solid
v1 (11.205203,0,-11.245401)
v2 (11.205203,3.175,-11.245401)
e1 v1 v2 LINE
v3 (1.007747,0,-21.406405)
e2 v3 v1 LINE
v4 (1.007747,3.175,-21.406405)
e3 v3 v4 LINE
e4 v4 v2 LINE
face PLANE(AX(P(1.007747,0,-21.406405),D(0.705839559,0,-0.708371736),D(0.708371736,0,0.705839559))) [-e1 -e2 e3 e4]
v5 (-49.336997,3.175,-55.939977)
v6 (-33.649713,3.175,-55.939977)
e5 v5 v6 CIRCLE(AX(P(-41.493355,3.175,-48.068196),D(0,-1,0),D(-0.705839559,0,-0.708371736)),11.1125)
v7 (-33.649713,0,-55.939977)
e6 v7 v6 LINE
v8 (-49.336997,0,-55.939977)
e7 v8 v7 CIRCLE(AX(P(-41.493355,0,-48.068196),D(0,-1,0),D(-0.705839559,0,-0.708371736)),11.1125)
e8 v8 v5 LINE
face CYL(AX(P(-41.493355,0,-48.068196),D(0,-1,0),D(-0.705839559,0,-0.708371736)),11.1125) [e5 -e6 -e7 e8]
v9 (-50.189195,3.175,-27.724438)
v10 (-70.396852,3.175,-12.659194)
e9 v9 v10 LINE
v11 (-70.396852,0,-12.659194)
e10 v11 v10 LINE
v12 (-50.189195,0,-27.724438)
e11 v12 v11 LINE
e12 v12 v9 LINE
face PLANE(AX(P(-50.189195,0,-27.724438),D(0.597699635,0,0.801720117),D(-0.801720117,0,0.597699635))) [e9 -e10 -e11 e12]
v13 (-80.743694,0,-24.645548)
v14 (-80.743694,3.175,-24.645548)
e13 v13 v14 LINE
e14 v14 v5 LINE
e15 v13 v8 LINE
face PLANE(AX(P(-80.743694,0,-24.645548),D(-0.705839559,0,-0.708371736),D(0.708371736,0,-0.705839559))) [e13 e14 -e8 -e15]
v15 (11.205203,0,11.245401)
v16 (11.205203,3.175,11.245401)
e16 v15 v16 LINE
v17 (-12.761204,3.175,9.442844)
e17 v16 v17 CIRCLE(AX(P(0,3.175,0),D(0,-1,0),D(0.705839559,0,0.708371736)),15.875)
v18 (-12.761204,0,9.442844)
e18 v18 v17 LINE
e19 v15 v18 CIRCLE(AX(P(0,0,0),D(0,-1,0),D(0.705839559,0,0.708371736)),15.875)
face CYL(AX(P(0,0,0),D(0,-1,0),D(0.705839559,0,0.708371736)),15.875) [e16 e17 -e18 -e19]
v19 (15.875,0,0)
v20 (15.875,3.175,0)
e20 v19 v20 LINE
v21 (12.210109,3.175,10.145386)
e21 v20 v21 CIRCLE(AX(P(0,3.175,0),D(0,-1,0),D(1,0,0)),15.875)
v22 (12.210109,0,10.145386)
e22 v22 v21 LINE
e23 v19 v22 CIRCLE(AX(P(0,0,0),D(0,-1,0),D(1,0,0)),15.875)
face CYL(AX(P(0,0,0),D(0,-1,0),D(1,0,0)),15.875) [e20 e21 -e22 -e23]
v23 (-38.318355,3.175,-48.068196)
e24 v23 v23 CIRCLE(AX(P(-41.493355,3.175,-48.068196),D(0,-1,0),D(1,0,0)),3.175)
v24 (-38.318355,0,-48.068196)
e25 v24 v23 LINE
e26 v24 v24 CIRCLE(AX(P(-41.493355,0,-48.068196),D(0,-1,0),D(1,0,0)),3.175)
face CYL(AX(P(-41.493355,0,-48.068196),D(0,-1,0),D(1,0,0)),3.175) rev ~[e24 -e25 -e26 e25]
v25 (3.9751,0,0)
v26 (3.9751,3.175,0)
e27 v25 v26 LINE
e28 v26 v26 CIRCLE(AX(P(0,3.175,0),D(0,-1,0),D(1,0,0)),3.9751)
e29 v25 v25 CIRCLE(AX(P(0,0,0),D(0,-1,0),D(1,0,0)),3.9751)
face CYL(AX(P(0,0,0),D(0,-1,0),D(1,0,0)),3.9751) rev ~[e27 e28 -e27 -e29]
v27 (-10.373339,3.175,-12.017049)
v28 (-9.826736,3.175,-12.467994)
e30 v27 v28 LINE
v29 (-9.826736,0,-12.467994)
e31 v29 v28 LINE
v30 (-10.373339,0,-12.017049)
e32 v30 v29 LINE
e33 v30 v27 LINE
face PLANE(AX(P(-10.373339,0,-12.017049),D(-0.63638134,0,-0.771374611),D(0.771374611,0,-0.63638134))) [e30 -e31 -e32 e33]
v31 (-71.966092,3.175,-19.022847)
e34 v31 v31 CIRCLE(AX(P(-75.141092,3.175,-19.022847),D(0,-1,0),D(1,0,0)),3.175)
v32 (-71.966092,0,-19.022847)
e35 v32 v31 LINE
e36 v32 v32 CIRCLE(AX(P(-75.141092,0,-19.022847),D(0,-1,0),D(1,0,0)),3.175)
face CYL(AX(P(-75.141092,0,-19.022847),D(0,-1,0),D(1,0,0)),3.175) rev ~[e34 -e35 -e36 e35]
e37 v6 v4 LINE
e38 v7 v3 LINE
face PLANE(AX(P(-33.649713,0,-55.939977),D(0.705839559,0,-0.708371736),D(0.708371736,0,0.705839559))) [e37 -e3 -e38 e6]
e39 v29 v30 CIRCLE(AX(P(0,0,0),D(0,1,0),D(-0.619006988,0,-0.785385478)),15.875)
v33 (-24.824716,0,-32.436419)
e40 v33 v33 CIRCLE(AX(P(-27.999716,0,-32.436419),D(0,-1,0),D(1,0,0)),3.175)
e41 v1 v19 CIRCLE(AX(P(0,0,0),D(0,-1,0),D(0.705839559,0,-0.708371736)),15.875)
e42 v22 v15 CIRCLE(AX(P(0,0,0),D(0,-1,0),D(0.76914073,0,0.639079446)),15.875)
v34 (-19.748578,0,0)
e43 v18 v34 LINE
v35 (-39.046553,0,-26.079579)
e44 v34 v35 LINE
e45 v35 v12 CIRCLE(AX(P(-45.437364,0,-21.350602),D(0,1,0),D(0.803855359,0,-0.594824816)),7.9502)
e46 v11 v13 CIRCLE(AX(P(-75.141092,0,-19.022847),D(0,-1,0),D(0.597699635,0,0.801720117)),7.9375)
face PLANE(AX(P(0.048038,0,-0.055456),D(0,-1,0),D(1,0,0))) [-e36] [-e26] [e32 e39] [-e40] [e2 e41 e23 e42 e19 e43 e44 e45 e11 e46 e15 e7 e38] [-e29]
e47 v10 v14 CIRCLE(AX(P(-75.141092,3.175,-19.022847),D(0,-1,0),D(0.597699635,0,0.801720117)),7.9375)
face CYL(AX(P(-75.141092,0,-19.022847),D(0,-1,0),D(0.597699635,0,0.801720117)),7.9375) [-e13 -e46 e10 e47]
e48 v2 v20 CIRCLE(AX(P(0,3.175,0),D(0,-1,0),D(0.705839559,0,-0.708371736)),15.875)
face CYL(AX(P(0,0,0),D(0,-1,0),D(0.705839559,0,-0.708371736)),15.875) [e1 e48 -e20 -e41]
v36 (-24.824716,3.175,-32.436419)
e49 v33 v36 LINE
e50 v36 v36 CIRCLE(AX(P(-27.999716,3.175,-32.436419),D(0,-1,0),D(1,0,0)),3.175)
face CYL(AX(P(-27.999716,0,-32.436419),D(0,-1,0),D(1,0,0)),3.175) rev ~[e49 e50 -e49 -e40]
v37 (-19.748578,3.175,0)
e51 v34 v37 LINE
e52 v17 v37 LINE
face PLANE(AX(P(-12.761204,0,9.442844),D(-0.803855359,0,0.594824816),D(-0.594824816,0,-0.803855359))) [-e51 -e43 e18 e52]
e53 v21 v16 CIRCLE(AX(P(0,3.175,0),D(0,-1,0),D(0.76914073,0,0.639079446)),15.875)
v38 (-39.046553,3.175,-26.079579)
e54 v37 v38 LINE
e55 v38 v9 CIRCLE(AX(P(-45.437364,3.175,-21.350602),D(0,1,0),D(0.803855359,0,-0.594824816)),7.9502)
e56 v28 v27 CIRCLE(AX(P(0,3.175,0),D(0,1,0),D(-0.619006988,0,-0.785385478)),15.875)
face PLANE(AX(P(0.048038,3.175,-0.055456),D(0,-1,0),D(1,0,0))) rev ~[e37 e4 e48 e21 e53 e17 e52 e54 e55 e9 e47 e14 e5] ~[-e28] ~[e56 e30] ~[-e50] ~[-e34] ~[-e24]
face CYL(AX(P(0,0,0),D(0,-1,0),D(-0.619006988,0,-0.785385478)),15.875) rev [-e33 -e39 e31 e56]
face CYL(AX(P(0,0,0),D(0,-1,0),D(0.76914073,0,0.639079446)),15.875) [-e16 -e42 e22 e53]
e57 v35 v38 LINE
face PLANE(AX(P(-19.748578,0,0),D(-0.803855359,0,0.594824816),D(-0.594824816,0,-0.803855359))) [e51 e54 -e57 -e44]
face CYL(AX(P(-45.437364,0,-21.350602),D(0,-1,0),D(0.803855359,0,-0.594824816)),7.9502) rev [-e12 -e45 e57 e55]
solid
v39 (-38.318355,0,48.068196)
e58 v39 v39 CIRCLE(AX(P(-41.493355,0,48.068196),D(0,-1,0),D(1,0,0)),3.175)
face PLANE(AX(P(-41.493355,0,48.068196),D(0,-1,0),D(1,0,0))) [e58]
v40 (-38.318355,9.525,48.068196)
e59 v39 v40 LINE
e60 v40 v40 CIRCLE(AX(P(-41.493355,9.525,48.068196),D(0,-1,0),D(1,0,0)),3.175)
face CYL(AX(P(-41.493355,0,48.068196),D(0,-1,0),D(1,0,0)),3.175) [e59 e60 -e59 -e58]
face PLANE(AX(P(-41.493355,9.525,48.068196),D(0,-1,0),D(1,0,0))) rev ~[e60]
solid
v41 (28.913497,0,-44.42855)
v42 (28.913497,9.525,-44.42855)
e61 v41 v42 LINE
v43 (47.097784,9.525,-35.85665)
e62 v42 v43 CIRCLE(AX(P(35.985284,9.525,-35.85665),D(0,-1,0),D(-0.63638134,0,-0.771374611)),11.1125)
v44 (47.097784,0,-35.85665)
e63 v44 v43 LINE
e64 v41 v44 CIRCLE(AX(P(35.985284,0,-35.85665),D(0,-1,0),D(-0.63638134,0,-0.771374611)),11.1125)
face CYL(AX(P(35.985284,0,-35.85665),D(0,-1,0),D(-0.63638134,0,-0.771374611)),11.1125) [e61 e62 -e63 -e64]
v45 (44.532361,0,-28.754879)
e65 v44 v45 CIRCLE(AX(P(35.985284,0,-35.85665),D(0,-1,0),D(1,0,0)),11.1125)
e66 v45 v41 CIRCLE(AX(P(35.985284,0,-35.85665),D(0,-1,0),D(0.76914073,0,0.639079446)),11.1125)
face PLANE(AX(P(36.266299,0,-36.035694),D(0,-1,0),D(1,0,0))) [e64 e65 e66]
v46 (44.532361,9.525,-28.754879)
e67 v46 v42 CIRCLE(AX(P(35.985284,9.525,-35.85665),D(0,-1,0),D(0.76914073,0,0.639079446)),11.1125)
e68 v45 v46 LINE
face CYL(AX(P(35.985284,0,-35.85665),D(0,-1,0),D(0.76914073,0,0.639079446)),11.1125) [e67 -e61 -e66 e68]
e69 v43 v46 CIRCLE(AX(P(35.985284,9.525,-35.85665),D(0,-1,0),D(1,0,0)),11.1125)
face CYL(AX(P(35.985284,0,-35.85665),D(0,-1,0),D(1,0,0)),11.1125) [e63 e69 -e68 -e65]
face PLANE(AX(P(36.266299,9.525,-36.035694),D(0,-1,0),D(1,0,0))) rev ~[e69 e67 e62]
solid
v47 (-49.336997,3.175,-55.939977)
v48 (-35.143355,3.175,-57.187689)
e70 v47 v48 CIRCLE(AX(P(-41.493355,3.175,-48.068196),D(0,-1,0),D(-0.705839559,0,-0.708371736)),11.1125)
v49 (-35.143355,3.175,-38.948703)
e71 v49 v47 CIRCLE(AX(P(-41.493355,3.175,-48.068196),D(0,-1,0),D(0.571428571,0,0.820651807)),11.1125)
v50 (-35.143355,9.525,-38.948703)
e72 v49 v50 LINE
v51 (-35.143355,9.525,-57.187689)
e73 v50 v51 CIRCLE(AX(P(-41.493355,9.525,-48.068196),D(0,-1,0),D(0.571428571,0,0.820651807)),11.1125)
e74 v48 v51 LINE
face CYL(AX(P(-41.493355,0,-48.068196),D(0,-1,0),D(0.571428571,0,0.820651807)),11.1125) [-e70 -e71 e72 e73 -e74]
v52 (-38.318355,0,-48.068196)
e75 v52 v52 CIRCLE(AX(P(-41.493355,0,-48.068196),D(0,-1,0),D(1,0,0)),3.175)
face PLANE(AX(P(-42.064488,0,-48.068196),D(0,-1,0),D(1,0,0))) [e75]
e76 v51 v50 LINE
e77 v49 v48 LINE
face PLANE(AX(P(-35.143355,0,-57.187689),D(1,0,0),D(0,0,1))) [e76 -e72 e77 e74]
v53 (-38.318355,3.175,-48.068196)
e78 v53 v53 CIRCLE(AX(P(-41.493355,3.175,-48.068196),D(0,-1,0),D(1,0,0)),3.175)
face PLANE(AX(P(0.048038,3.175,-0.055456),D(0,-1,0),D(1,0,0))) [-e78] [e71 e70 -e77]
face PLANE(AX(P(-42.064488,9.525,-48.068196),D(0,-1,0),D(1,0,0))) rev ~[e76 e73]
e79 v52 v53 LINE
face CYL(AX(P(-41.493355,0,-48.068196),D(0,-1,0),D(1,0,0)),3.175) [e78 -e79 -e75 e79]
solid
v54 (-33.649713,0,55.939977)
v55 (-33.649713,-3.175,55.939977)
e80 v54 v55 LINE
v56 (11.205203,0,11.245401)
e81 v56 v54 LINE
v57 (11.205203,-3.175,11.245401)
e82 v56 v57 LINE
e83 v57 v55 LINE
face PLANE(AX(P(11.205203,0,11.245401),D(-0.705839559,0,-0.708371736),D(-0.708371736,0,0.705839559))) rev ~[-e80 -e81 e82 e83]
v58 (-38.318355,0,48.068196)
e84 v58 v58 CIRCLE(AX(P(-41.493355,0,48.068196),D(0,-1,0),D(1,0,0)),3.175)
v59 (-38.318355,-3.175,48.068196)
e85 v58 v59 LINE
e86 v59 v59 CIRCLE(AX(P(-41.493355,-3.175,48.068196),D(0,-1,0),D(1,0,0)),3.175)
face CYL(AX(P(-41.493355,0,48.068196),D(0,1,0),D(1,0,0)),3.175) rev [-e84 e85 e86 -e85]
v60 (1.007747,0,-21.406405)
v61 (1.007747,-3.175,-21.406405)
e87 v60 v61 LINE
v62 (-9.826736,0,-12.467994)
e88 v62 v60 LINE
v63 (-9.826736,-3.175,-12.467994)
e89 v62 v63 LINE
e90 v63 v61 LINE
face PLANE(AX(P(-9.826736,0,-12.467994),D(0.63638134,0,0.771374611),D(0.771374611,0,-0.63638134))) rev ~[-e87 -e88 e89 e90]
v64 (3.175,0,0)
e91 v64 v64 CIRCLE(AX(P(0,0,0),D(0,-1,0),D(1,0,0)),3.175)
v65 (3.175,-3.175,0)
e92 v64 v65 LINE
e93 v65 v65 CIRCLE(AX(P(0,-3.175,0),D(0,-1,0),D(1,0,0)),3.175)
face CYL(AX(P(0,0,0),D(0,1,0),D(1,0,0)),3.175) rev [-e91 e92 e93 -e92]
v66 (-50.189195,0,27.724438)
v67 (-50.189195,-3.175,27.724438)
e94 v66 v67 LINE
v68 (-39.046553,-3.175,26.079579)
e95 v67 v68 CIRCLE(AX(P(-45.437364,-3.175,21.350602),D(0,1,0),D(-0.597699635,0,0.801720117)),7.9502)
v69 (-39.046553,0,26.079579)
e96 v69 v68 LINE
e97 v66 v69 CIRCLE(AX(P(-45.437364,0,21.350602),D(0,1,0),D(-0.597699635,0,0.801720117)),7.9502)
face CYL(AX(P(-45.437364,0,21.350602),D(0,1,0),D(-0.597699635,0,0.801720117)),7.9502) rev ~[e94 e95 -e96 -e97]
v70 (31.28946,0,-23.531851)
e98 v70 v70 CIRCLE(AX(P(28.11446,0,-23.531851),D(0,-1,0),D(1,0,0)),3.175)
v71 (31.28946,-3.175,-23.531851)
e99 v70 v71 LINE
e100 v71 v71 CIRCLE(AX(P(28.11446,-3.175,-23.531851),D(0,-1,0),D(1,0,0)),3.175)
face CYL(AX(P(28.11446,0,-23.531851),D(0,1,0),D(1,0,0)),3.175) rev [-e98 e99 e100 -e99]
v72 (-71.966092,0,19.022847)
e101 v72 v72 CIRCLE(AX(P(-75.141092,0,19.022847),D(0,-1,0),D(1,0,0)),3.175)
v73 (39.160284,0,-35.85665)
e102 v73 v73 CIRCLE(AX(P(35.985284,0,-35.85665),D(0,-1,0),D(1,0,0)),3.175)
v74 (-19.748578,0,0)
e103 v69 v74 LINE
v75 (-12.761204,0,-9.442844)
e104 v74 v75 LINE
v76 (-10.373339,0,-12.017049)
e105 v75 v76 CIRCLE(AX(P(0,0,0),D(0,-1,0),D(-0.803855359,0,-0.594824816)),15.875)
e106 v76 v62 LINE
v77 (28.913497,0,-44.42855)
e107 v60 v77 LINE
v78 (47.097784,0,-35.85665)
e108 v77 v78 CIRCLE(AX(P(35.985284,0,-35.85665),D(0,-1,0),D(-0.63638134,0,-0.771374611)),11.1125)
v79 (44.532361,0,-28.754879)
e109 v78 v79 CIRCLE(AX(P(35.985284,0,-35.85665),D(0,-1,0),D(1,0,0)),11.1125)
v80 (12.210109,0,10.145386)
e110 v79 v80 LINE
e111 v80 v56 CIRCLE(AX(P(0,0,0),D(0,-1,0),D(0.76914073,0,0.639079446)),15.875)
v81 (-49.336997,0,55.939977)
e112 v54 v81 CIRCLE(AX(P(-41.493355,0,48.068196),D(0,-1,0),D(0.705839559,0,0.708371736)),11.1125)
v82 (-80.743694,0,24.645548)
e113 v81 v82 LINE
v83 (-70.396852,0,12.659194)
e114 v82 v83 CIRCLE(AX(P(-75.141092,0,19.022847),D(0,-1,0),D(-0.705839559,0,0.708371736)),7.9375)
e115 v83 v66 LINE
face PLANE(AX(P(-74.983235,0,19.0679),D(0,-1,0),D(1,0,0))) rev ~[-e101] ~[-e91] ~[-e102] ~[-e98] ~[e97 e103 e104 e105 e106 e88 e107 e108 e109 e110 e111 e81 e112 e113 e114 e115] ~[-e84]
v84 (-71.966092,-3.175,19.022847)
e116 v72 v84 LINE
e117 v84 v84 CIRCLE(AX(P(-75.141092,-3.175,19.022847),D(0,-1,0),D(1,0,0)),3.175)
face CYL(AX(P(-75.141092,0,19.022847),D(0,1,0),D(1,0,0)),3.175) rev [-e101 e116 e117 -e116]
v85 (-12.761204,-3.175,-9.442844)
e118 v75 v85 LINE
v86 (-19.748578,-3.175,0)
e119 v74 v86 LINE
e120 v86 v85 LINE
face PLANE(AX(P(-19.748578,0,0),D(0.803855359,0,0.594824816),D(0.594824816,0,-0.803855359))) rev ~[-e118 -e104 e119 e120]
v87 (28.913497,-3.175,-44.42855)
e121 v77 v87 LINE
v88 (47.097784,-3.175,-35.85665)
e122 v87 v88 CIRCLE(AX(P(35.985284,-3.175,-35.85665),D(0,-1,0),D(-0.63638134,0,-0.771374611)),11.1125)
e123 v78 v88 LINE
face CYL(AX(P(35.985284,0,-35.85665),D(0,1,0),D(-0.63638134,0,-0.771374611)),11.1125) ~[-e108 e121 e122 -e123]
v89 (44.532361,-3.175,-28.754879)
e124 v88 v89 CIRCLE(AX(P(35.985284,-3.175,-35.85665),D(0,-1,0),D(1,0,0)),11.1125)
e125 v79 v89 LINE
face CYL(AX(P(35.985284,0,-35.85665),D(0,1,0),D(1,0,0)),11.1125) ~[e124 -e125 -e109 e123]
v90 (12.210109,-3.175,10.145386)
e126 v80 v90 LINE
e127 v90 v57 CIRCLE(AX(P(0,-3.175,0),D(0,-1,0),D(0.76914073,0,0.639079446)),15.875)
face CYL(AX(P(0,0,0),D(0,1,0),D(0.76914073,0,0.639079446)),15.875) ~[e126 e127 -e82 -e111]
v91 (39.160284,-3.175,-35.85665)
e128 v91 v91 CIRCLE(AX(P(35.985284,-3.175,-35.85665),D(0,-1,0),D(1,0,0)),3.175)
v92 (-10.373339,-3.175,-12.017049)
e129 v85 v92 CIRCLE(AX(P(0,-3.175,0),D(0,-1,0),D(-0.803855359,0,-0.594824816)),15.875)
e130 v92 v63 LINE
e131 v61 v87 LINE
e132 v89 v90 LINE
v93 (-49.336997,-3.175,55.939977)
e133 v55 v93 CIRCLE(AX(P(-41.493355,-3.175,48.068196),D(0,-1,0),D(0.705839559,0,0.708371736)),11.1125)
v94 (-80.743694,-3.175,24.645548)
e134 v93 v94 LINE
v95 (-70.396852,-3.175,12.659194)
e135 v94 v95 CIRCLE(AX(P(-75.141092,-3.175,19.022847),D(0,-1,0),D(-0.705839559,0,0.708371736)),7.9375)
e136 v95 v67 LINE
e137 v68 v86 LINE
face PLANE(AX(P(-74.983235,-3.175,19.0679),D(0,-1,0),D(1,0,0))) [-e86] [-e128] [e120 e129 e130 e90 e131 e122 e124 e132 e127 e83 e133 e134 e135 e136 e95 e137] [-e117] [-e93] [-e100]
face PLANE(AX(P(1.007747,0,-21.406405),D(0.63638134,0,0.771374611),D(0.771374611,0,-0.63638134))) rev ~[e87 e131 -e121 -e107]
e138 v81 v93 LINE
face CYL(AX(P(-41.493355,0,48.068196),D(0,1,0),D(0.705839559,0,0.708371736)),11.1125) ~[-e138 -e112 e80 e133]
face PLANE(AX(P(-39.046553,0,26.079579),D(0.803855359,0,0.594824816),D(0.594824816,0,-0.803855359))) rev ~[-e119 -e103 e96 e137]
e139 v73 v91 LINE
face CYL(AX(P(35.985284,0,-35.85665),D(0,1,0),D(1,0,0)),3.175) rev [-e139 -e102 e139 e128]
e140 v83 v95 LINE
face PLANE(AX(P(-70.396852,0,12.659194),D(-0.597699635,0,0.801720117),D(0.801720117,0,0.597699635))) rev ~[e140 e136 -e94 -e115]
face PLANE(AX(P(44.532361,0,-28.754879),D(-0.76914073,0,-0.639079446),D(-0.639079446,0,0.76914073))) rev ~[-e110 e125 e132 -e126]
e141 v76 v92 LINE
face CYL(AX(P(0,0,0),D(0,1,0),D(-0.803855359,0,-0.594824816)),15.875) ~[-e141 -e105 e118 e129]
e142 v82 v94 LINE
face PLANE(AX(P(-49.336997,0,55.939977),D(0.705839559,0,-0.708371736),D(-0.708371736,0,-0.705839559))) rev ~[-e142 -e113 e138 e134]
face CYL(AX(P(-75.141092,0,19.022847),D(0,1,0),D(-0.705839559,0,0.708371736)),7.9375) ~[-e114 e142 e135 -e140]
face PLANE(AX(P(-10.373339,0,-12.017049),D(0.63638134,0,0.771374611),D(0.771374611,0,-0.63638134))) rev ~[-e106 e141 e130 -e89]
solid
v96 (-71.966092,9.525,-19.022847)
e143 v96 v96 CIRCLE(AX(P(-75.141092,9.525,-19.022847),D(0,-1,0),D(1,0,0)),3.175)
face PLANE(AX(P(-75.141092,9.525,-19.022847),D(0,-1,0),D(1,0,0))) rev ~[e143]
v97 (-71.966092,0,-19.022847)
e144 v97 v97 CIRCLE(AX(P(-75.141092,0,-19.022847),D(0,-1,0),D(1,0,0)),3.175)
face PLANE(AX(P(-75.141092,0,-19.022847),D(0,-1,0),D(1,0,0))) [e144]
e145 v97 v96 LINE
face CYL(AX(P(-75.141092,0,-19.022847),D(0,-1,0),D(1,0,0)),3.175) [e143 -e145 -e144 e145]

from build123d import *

# Parameters (mm, degrees)
F0_R     = 3.175
F0_R_2   = 3.9751
F1_DEPTH = 3.175
F2_DEPTH = 3.175
F5_DEPTH = 9.525


with BuildPart() as f1:
    # F0 (on Front) → F1 (new body)
    with BuildSketch(Plane.XZ):
        with BuildLine():
            ThreePointArc((-67.2035924475, 19.022847468), (-72.0969787145, 26.3534189212), (-80.7436939481, 24.6455481248))
            ThreePointArc((-80.7436939481, 24.6455481248), (-81.1496169594, 13.8361780704), (-70.3968515915, 12.6591940402))
            ThreePointArc((-70.3968515915, 12.6591940402), (-68.0466820406, 15.4628970151), (-67.2035924475, 19.022847468))
        make_face()
        with Locations((-75.1410924475, 19.022847468)):
            Circle(F0_R, mode=Mode.SUBTRACT)
        with BuildLine():
            ThreePointArc((-12.7612038205, 9.44284396), (-1.190625, 15.8302885984), (11.2052030012, 11.2454013135))
            Line((11.2052030012, 11.2454013135), (-33.6497130803, 55.9399770143))
            ThreePointArc((-33.6497130803, 55.9399770143), (-31.2305551467, 52.3299553211), (-30.3808551811, 48.0681960948))
            ThreePointArc((-30.3808551811, 48.0681960948), (-45.7551144074, 37.8053960604), (-49.336997282, 55.9399770143))
            Line((-49.336997282, 55.9399770143), (-80.7436939481, 24.6455481248))
            ThreePointArc((-80.7436939481, 24.6455481248), (-72.0969787145, 26.3534189212), (-67.2035924475, 19.022847468))
            ThreePointArc((-67.2035924475, 19.022847468), (-68.0466820406, 15.4628970151), (-70.3968515915, 12.6591940402))
            Line((-70.3968515915, 12.6591940402), (-50.1891951564, 27.7244376696))
            ThreePointArc((-50.1891951564, 27.7244376696), (-44.2763495065, 29.2155707059), (-39.0465526417, 26.0795786514))
            Line((-39.0465526417, 26.0795786514), (-19.7485776848, 0))
            Line((-19.7485776848, 0), (-12.7612038205, 9.44284396))
        make_face()
        with BuildLine():
            ThreePointArc((-30.3808551811, 48.0681960948), (-31.2305551467, 52.3299553211), (-33.6497130803, 55.9399770143))
            ThreePointArc((-33.6497130803, 55.9399770143), (-41.4933551811, 59.1806960948), (-49.336997282, 55.9399770143))
            ThreePointArc((-49.336997282, 55.9399770143), (-45.7551144074, 37.8053960604), (-30.3808551811, 48.0681960948))
        make_face()
        with Locations((-41.4933551811, 48.0681960948)):
            Circle(F0_R, mode=Mode.SUBTRACT)
        with BuildLine():
            ThreePointArc((11.2052030012, -11.2454013135), (14.6611429064, -6.088227466), (15.875, 0))
            ThreePointArc((15.875, 0), (14.9306916571, 5.3935212655), (12.2101090846, 10.1453861998))
            ThreePointArc((12.2101090846, 10.1453861998), (11.7205681744, 10.7071894851), (11.2052030012, 11.2454013135))
            ThreePointArc((11.2052030012, 11.2454013135), (-1.190625, 15.8302885984), (-12.7612038205, 9.44284396))
            ThreePointArc((-12.7612038205, 9.44284396), (-15.875, 0), (-12.7612038205, -9.44284396))
            ThreePointArc((-12.7612038205, -9.44284396), (-11.6386596495, -10.7961672163), (-10.3733387953, -12.0170490237))
            Line((-10.3733387953, -12.0170490237), (-9.826735932, -12.4679944628))
            ThreePointArc((-9.826735932, -12.4679944628), (0.9212634625, -15.8482459166), (11.2052030012, -11.2454013135))
        make_face()
        Circle(F0_R_2, mode=Mode.SUBTRACT)
        with BuildLine():
            ThreePointArc((-12.7612038205, -9.44284396), (-15.875, 0), (-12.7612038205, 9.44284396))
            Line((-12.7612038205, 9.44284396), (-19.7485776848, 0))
            Line((-19.7485776848, 0), (-12.7612038205, -9.44284396))
        make_face()
        with BuildLine():
            Line((1.00774715, -21.4064048849), (11.2052030012, -11.2454013135))
            ThreePointArc((11.2052030012, -11.2454013135), (0.9212634625, -15.8482459166), (-9.826735932, -12.4679944628))
            Line((-9.826735932, -12.4679944628), (1.00774715, -21.4064048849))
        make_face()
        with BuildLine():
            ThreePointArc((12.2101090846, 10.1453861998), (14.9306916571, 5.3935212655), (15.875, 0))
            ThreePointArc((15.875, 0), (14.6611429064, -6.088227466), (11.2052030012, -11.2454013135))
            Line((11.2052030012, -11.2454013135), (1.00774715, -21.4064048849))
            Line((1.00774715, -21.4064048849), (28.9134965637, -44.4285499666))
            ThreePointArc((28.9134965637, -44.4285499666), (28.1138099116, -28.0126997872), (44.5323605625, -28.7548792639))
            Line((44.5323605625, -28.7548792639), (12.2101090846, 10.1453861998))
        make_face()
        with Locations((28.1144599424, -23.5318508024)):
            Circle(F0_R, mode=Mode.SUBTRACT)
        with BuildLine():
            ThreePointArc((47.0977842033, -35.8566496037), (46.4367683633, -32.0811847179), (44.5323605625, -28.7548792639))
            ThreePointArc((44.5323605625, -28.7548792639), (28.1138099116, -28.0126997872), (28.9134965637, -44.4285499666))
            ThreePointArc((28.9134965637, -44.4285499666), (40.7235547794, -45.9083384269), (47.0977842033, -35.8566496037))
        make_face()
        with Locations((35.9852842033, -35.8566496037)):
            Circle(F0_R, mode=Mode.SUBTRACT)
        Circle(F0_R_2)
        Circle(F0_R, mode=Mode.SUBTRACT)
    extrude(amount=F1_DEPTH)


with BuildPart() as f2:
    # F0 (on Front) → F2 (new body)
    with BuildSketch(Plane.XZ):
        with BuildLine():
            ThreePointArc((11.2052030012, -11.2454013135), (14.6611429064, -6.088227466), (15.875, 0))
            ThreePointArc((15.875, 0), (14.9306916571, 5.3935212655), (12.2101090846, 10.1453861998))
            ThreePointArc((12.2101090846, 10.1453861998), (11.7205681744, 10.7071894851), (11.2052030012, 11.2454013135))
            ThreePointArc((11.2052030012, 11.2454013135), (-1.190625, 15.8302885984), (-12.7612038205, 9.44284396))
            ThreePointArc((-12.7612038205, 9.44284396), (-15.875, 0), (-12.7612038205, -9.44284396))
            ThreePointArc((-12.7612038205, -9.44284396), (-11.6386596495, -10.7961672163), (-10.3733387953, -12.0170490237))
            Line((-10.3733387953, -12.0170490237), (-9.826735932, -12.4679944628))
            ThreePointArc((-9.826735932, -12.4679944628), (0.9212634625, -15.8482459166), (11.2052030012, -11.2454013135))
        make_face()
        Circle(F0_R_2, mode=Mode.SUBTRACT)
        with BuildLine():
            Line((1.00774715, -21.4064048849), (11.2052030012, -11.2454013135))
            ThreePointArc((11.2052030012, -11.2454013135), (0.9212634625, -15.8482459166), (-9.826735932, -12.4679944628))
            Line((-9.826735932, -12.4679944628), (1.00774715, -21.4064048849))
        make_face()
        with BuildLine():
            ThreePointArc((-12.7612038205, -9.44284396), (-15.875, 0), (-12.7612038205, 9.44284396))
            Line((-12.7612038205, 9.44284396), (-19.7485776848, 0))
            Line((-19.7485776848, 0), (-12.7612038205, -9.44284396))
        make_face()
        with BuildLine():
            Line((1.00774715, -21.4064048849), (-9.826735932, -12.4679944628))
            ThreePointArc((-9.826735932, -12.4679944628), (-10.1025537709, -12.2455719469), (-10.3733387953, -12.0170490237))
            ThreePointArc((-10.3733387953, -12.0170490237), (-11.6386596495, -10.7961672163), (-12.7612038205, -9.44284396))
            Line((-12.7612038205, -9.44284396), (-19.7485776848, 0))
            Line((-19.7485776848, 0), (-39.0465526417, -26.0795786514))
            ThreePointArc((-39.0465526417, -26.0795786514), (-44.2763495065, -29.2155707059), (-50.1891951564, -27.7244376696))
            Line((-50.1891951564, -27.7244376696), (-70.3968515915, -12.6591940402))
            ThreePointArc((-70.3968515915, -12.6591940402), (-68.0466820406, -15.4628970151), (-67.2035924475, -19.022847468))
            ThreePointArc((-67.2035924475, -19.022847468), (-72.0969787145, -26.3534189212), (-80.7436939481, -24.6455481248))
            Line((-80.7436939481, -24.6455481248), (-49.336997282, -55.9399770143))
            ThreePointArc((-49.336997282, -55.9399770143), (-45.7551144074, -37.8053960604), (-30.3808551811, -48.0681960948))
            ThreePointArc((-30.3808551811, -48.0681960948), (-31.2305551467, -52.3299553211), (-33.6497130803, -55.9399770143))
            Line((-33.6497130803, -55.9399770143), (1.00774715, -21.4064048849))
        make_face()
        with Locations((-27.9997160762, -32.4364187248)):
            Circle(F0_R, mode=Mode.SUBTRACT)
        with BuildLine():
            ThreePointArc((-49.336997282, -55.9399770143), (-41.4933551811, -59.1806960948), (-33.6497130803, -55.9399770143))
            ThreePointArc((-33.6497130803, -55.9399770143), (-31.2305551467, -52.3299553211), (-30.3808551811, -48.0681960948))
            ThreePointArc((-30.3808551811, -48.0681960948), (-45.7551144074, -37.8053960604), (-49.336997282, -55.9399770143))
        make_face()
        with Locations((-41.4933551811, -48.0681960948)):
            Circle(F0_R, mode=Mode.SUBTRACT)
        with BuildLine():
            ThreePointArc((-70.3968515915, -12.6591940402), (-81.1496169594, -13.8361780704), (-80.7436939481, -24.6455481248))
            ThreePointArc((-80.7436939481, -24.6455481248), (-72.0969787145, -26.3534189212), (-67.2035924475, -19.022847468))
            ThreePointArc((-67.2035924475, -19.022847468), (-68.0466820406, -15.4628970151), (-70.3968515915, -12.6591940402))
        make_face()
        with Locations((-75.1410924475, -19.022847468)):
            Circle(F0_R, mode=Mode.SUBTRACT)
    extrude(amount=-F2_DEPTH)


with BuildPart() as f5:
    # F3 (on Front) → F5 (new body, through all)
    with BuildSketch(Plane.XZ):
        with BuildLine():
            Line((-35.1433551811, -57.1876892962), (-35.1433551811, -38.9487028935))
            ThreePointArc((-35.1433551811, -38.9487028935), (-52.6058551811, -48.0681960948), (-35.1433551811, -57.1876892962))
        make_face()
    extrude(amount=-F5_DEPTH)

    # F6: cut F1, F2
    add(f1.part, mode=Mode.SUBTRACT)
    add(f2.part, mode=Mode.SUBTRACT)


with BuildPart() as f5b:
    # F0 (on Front) → F5, piece 2 (new body, through all)
    with BuildSketch(Plane.XZ):
        with BuildLine():
            ThreePointArc((47.0977842033, -35.8566496037), (46.4367683633, -32.0811847179), (44.5323605625, -28.7548792639))
            ThreePointArc((44.5323605625, -28.7548792639), (28.1138099116, -28.0126997872), (28.9134965637, -44.4285499666))
            ThreePointArc((28.9134965637, -44.4285499666), (40.7235547794, -45.9083384269), (47.0977842033, -35.8566496037))
        make_face()
        with Locations((35.9852842033, -35.8566496037)):
            Circle(F0_R, mode=Mode.SUBTRACT)
        with Locations((35.9852842033, -35.8566496037)):
            Circle(F0_R)
    extrude(amount=-F5_DEPTH)

    # F6: cut F1, F2
    add(f1.part, mode=Mode.SUBTRACT)
    add(f2.part, mode=Mode.SUBTRACT)


with BuildPart() as f5c:
    # F0 (on Front) → F5, piece 3 (new body, through all)
    with BuildSketch(Plane.XZ):
        with Locations((-75.1410924475, -19.022847468)):
            Circle(F0_R)
    extrude(amount=-F5_DEPTH)

    # F6: cut F1, F2
    add(f1.part, mode=Mode.SUBTRACT)
    add(f2.part, mode=Mode.SUBTRACT)


with BuildPart() as f5d:
    # F0 (on Front) → F5, piece 4 (new body, through all)
    with BuildSketch(Plane.XZ):
        with Locations((-41.4933551811, 48.0681960948)):
            Circle(F0_R)
    extrude(amount=-F5_DEPTH)

    # F6: cut F1, F2
    add(f1.part, mode=Mode.SUBTRACT)
    add(f2.part, mode=Mode.SUBTRACT)


solid = Compound([f1.part, f2.part, f5.part, f5b.part, f5c.part, f5d.part])
